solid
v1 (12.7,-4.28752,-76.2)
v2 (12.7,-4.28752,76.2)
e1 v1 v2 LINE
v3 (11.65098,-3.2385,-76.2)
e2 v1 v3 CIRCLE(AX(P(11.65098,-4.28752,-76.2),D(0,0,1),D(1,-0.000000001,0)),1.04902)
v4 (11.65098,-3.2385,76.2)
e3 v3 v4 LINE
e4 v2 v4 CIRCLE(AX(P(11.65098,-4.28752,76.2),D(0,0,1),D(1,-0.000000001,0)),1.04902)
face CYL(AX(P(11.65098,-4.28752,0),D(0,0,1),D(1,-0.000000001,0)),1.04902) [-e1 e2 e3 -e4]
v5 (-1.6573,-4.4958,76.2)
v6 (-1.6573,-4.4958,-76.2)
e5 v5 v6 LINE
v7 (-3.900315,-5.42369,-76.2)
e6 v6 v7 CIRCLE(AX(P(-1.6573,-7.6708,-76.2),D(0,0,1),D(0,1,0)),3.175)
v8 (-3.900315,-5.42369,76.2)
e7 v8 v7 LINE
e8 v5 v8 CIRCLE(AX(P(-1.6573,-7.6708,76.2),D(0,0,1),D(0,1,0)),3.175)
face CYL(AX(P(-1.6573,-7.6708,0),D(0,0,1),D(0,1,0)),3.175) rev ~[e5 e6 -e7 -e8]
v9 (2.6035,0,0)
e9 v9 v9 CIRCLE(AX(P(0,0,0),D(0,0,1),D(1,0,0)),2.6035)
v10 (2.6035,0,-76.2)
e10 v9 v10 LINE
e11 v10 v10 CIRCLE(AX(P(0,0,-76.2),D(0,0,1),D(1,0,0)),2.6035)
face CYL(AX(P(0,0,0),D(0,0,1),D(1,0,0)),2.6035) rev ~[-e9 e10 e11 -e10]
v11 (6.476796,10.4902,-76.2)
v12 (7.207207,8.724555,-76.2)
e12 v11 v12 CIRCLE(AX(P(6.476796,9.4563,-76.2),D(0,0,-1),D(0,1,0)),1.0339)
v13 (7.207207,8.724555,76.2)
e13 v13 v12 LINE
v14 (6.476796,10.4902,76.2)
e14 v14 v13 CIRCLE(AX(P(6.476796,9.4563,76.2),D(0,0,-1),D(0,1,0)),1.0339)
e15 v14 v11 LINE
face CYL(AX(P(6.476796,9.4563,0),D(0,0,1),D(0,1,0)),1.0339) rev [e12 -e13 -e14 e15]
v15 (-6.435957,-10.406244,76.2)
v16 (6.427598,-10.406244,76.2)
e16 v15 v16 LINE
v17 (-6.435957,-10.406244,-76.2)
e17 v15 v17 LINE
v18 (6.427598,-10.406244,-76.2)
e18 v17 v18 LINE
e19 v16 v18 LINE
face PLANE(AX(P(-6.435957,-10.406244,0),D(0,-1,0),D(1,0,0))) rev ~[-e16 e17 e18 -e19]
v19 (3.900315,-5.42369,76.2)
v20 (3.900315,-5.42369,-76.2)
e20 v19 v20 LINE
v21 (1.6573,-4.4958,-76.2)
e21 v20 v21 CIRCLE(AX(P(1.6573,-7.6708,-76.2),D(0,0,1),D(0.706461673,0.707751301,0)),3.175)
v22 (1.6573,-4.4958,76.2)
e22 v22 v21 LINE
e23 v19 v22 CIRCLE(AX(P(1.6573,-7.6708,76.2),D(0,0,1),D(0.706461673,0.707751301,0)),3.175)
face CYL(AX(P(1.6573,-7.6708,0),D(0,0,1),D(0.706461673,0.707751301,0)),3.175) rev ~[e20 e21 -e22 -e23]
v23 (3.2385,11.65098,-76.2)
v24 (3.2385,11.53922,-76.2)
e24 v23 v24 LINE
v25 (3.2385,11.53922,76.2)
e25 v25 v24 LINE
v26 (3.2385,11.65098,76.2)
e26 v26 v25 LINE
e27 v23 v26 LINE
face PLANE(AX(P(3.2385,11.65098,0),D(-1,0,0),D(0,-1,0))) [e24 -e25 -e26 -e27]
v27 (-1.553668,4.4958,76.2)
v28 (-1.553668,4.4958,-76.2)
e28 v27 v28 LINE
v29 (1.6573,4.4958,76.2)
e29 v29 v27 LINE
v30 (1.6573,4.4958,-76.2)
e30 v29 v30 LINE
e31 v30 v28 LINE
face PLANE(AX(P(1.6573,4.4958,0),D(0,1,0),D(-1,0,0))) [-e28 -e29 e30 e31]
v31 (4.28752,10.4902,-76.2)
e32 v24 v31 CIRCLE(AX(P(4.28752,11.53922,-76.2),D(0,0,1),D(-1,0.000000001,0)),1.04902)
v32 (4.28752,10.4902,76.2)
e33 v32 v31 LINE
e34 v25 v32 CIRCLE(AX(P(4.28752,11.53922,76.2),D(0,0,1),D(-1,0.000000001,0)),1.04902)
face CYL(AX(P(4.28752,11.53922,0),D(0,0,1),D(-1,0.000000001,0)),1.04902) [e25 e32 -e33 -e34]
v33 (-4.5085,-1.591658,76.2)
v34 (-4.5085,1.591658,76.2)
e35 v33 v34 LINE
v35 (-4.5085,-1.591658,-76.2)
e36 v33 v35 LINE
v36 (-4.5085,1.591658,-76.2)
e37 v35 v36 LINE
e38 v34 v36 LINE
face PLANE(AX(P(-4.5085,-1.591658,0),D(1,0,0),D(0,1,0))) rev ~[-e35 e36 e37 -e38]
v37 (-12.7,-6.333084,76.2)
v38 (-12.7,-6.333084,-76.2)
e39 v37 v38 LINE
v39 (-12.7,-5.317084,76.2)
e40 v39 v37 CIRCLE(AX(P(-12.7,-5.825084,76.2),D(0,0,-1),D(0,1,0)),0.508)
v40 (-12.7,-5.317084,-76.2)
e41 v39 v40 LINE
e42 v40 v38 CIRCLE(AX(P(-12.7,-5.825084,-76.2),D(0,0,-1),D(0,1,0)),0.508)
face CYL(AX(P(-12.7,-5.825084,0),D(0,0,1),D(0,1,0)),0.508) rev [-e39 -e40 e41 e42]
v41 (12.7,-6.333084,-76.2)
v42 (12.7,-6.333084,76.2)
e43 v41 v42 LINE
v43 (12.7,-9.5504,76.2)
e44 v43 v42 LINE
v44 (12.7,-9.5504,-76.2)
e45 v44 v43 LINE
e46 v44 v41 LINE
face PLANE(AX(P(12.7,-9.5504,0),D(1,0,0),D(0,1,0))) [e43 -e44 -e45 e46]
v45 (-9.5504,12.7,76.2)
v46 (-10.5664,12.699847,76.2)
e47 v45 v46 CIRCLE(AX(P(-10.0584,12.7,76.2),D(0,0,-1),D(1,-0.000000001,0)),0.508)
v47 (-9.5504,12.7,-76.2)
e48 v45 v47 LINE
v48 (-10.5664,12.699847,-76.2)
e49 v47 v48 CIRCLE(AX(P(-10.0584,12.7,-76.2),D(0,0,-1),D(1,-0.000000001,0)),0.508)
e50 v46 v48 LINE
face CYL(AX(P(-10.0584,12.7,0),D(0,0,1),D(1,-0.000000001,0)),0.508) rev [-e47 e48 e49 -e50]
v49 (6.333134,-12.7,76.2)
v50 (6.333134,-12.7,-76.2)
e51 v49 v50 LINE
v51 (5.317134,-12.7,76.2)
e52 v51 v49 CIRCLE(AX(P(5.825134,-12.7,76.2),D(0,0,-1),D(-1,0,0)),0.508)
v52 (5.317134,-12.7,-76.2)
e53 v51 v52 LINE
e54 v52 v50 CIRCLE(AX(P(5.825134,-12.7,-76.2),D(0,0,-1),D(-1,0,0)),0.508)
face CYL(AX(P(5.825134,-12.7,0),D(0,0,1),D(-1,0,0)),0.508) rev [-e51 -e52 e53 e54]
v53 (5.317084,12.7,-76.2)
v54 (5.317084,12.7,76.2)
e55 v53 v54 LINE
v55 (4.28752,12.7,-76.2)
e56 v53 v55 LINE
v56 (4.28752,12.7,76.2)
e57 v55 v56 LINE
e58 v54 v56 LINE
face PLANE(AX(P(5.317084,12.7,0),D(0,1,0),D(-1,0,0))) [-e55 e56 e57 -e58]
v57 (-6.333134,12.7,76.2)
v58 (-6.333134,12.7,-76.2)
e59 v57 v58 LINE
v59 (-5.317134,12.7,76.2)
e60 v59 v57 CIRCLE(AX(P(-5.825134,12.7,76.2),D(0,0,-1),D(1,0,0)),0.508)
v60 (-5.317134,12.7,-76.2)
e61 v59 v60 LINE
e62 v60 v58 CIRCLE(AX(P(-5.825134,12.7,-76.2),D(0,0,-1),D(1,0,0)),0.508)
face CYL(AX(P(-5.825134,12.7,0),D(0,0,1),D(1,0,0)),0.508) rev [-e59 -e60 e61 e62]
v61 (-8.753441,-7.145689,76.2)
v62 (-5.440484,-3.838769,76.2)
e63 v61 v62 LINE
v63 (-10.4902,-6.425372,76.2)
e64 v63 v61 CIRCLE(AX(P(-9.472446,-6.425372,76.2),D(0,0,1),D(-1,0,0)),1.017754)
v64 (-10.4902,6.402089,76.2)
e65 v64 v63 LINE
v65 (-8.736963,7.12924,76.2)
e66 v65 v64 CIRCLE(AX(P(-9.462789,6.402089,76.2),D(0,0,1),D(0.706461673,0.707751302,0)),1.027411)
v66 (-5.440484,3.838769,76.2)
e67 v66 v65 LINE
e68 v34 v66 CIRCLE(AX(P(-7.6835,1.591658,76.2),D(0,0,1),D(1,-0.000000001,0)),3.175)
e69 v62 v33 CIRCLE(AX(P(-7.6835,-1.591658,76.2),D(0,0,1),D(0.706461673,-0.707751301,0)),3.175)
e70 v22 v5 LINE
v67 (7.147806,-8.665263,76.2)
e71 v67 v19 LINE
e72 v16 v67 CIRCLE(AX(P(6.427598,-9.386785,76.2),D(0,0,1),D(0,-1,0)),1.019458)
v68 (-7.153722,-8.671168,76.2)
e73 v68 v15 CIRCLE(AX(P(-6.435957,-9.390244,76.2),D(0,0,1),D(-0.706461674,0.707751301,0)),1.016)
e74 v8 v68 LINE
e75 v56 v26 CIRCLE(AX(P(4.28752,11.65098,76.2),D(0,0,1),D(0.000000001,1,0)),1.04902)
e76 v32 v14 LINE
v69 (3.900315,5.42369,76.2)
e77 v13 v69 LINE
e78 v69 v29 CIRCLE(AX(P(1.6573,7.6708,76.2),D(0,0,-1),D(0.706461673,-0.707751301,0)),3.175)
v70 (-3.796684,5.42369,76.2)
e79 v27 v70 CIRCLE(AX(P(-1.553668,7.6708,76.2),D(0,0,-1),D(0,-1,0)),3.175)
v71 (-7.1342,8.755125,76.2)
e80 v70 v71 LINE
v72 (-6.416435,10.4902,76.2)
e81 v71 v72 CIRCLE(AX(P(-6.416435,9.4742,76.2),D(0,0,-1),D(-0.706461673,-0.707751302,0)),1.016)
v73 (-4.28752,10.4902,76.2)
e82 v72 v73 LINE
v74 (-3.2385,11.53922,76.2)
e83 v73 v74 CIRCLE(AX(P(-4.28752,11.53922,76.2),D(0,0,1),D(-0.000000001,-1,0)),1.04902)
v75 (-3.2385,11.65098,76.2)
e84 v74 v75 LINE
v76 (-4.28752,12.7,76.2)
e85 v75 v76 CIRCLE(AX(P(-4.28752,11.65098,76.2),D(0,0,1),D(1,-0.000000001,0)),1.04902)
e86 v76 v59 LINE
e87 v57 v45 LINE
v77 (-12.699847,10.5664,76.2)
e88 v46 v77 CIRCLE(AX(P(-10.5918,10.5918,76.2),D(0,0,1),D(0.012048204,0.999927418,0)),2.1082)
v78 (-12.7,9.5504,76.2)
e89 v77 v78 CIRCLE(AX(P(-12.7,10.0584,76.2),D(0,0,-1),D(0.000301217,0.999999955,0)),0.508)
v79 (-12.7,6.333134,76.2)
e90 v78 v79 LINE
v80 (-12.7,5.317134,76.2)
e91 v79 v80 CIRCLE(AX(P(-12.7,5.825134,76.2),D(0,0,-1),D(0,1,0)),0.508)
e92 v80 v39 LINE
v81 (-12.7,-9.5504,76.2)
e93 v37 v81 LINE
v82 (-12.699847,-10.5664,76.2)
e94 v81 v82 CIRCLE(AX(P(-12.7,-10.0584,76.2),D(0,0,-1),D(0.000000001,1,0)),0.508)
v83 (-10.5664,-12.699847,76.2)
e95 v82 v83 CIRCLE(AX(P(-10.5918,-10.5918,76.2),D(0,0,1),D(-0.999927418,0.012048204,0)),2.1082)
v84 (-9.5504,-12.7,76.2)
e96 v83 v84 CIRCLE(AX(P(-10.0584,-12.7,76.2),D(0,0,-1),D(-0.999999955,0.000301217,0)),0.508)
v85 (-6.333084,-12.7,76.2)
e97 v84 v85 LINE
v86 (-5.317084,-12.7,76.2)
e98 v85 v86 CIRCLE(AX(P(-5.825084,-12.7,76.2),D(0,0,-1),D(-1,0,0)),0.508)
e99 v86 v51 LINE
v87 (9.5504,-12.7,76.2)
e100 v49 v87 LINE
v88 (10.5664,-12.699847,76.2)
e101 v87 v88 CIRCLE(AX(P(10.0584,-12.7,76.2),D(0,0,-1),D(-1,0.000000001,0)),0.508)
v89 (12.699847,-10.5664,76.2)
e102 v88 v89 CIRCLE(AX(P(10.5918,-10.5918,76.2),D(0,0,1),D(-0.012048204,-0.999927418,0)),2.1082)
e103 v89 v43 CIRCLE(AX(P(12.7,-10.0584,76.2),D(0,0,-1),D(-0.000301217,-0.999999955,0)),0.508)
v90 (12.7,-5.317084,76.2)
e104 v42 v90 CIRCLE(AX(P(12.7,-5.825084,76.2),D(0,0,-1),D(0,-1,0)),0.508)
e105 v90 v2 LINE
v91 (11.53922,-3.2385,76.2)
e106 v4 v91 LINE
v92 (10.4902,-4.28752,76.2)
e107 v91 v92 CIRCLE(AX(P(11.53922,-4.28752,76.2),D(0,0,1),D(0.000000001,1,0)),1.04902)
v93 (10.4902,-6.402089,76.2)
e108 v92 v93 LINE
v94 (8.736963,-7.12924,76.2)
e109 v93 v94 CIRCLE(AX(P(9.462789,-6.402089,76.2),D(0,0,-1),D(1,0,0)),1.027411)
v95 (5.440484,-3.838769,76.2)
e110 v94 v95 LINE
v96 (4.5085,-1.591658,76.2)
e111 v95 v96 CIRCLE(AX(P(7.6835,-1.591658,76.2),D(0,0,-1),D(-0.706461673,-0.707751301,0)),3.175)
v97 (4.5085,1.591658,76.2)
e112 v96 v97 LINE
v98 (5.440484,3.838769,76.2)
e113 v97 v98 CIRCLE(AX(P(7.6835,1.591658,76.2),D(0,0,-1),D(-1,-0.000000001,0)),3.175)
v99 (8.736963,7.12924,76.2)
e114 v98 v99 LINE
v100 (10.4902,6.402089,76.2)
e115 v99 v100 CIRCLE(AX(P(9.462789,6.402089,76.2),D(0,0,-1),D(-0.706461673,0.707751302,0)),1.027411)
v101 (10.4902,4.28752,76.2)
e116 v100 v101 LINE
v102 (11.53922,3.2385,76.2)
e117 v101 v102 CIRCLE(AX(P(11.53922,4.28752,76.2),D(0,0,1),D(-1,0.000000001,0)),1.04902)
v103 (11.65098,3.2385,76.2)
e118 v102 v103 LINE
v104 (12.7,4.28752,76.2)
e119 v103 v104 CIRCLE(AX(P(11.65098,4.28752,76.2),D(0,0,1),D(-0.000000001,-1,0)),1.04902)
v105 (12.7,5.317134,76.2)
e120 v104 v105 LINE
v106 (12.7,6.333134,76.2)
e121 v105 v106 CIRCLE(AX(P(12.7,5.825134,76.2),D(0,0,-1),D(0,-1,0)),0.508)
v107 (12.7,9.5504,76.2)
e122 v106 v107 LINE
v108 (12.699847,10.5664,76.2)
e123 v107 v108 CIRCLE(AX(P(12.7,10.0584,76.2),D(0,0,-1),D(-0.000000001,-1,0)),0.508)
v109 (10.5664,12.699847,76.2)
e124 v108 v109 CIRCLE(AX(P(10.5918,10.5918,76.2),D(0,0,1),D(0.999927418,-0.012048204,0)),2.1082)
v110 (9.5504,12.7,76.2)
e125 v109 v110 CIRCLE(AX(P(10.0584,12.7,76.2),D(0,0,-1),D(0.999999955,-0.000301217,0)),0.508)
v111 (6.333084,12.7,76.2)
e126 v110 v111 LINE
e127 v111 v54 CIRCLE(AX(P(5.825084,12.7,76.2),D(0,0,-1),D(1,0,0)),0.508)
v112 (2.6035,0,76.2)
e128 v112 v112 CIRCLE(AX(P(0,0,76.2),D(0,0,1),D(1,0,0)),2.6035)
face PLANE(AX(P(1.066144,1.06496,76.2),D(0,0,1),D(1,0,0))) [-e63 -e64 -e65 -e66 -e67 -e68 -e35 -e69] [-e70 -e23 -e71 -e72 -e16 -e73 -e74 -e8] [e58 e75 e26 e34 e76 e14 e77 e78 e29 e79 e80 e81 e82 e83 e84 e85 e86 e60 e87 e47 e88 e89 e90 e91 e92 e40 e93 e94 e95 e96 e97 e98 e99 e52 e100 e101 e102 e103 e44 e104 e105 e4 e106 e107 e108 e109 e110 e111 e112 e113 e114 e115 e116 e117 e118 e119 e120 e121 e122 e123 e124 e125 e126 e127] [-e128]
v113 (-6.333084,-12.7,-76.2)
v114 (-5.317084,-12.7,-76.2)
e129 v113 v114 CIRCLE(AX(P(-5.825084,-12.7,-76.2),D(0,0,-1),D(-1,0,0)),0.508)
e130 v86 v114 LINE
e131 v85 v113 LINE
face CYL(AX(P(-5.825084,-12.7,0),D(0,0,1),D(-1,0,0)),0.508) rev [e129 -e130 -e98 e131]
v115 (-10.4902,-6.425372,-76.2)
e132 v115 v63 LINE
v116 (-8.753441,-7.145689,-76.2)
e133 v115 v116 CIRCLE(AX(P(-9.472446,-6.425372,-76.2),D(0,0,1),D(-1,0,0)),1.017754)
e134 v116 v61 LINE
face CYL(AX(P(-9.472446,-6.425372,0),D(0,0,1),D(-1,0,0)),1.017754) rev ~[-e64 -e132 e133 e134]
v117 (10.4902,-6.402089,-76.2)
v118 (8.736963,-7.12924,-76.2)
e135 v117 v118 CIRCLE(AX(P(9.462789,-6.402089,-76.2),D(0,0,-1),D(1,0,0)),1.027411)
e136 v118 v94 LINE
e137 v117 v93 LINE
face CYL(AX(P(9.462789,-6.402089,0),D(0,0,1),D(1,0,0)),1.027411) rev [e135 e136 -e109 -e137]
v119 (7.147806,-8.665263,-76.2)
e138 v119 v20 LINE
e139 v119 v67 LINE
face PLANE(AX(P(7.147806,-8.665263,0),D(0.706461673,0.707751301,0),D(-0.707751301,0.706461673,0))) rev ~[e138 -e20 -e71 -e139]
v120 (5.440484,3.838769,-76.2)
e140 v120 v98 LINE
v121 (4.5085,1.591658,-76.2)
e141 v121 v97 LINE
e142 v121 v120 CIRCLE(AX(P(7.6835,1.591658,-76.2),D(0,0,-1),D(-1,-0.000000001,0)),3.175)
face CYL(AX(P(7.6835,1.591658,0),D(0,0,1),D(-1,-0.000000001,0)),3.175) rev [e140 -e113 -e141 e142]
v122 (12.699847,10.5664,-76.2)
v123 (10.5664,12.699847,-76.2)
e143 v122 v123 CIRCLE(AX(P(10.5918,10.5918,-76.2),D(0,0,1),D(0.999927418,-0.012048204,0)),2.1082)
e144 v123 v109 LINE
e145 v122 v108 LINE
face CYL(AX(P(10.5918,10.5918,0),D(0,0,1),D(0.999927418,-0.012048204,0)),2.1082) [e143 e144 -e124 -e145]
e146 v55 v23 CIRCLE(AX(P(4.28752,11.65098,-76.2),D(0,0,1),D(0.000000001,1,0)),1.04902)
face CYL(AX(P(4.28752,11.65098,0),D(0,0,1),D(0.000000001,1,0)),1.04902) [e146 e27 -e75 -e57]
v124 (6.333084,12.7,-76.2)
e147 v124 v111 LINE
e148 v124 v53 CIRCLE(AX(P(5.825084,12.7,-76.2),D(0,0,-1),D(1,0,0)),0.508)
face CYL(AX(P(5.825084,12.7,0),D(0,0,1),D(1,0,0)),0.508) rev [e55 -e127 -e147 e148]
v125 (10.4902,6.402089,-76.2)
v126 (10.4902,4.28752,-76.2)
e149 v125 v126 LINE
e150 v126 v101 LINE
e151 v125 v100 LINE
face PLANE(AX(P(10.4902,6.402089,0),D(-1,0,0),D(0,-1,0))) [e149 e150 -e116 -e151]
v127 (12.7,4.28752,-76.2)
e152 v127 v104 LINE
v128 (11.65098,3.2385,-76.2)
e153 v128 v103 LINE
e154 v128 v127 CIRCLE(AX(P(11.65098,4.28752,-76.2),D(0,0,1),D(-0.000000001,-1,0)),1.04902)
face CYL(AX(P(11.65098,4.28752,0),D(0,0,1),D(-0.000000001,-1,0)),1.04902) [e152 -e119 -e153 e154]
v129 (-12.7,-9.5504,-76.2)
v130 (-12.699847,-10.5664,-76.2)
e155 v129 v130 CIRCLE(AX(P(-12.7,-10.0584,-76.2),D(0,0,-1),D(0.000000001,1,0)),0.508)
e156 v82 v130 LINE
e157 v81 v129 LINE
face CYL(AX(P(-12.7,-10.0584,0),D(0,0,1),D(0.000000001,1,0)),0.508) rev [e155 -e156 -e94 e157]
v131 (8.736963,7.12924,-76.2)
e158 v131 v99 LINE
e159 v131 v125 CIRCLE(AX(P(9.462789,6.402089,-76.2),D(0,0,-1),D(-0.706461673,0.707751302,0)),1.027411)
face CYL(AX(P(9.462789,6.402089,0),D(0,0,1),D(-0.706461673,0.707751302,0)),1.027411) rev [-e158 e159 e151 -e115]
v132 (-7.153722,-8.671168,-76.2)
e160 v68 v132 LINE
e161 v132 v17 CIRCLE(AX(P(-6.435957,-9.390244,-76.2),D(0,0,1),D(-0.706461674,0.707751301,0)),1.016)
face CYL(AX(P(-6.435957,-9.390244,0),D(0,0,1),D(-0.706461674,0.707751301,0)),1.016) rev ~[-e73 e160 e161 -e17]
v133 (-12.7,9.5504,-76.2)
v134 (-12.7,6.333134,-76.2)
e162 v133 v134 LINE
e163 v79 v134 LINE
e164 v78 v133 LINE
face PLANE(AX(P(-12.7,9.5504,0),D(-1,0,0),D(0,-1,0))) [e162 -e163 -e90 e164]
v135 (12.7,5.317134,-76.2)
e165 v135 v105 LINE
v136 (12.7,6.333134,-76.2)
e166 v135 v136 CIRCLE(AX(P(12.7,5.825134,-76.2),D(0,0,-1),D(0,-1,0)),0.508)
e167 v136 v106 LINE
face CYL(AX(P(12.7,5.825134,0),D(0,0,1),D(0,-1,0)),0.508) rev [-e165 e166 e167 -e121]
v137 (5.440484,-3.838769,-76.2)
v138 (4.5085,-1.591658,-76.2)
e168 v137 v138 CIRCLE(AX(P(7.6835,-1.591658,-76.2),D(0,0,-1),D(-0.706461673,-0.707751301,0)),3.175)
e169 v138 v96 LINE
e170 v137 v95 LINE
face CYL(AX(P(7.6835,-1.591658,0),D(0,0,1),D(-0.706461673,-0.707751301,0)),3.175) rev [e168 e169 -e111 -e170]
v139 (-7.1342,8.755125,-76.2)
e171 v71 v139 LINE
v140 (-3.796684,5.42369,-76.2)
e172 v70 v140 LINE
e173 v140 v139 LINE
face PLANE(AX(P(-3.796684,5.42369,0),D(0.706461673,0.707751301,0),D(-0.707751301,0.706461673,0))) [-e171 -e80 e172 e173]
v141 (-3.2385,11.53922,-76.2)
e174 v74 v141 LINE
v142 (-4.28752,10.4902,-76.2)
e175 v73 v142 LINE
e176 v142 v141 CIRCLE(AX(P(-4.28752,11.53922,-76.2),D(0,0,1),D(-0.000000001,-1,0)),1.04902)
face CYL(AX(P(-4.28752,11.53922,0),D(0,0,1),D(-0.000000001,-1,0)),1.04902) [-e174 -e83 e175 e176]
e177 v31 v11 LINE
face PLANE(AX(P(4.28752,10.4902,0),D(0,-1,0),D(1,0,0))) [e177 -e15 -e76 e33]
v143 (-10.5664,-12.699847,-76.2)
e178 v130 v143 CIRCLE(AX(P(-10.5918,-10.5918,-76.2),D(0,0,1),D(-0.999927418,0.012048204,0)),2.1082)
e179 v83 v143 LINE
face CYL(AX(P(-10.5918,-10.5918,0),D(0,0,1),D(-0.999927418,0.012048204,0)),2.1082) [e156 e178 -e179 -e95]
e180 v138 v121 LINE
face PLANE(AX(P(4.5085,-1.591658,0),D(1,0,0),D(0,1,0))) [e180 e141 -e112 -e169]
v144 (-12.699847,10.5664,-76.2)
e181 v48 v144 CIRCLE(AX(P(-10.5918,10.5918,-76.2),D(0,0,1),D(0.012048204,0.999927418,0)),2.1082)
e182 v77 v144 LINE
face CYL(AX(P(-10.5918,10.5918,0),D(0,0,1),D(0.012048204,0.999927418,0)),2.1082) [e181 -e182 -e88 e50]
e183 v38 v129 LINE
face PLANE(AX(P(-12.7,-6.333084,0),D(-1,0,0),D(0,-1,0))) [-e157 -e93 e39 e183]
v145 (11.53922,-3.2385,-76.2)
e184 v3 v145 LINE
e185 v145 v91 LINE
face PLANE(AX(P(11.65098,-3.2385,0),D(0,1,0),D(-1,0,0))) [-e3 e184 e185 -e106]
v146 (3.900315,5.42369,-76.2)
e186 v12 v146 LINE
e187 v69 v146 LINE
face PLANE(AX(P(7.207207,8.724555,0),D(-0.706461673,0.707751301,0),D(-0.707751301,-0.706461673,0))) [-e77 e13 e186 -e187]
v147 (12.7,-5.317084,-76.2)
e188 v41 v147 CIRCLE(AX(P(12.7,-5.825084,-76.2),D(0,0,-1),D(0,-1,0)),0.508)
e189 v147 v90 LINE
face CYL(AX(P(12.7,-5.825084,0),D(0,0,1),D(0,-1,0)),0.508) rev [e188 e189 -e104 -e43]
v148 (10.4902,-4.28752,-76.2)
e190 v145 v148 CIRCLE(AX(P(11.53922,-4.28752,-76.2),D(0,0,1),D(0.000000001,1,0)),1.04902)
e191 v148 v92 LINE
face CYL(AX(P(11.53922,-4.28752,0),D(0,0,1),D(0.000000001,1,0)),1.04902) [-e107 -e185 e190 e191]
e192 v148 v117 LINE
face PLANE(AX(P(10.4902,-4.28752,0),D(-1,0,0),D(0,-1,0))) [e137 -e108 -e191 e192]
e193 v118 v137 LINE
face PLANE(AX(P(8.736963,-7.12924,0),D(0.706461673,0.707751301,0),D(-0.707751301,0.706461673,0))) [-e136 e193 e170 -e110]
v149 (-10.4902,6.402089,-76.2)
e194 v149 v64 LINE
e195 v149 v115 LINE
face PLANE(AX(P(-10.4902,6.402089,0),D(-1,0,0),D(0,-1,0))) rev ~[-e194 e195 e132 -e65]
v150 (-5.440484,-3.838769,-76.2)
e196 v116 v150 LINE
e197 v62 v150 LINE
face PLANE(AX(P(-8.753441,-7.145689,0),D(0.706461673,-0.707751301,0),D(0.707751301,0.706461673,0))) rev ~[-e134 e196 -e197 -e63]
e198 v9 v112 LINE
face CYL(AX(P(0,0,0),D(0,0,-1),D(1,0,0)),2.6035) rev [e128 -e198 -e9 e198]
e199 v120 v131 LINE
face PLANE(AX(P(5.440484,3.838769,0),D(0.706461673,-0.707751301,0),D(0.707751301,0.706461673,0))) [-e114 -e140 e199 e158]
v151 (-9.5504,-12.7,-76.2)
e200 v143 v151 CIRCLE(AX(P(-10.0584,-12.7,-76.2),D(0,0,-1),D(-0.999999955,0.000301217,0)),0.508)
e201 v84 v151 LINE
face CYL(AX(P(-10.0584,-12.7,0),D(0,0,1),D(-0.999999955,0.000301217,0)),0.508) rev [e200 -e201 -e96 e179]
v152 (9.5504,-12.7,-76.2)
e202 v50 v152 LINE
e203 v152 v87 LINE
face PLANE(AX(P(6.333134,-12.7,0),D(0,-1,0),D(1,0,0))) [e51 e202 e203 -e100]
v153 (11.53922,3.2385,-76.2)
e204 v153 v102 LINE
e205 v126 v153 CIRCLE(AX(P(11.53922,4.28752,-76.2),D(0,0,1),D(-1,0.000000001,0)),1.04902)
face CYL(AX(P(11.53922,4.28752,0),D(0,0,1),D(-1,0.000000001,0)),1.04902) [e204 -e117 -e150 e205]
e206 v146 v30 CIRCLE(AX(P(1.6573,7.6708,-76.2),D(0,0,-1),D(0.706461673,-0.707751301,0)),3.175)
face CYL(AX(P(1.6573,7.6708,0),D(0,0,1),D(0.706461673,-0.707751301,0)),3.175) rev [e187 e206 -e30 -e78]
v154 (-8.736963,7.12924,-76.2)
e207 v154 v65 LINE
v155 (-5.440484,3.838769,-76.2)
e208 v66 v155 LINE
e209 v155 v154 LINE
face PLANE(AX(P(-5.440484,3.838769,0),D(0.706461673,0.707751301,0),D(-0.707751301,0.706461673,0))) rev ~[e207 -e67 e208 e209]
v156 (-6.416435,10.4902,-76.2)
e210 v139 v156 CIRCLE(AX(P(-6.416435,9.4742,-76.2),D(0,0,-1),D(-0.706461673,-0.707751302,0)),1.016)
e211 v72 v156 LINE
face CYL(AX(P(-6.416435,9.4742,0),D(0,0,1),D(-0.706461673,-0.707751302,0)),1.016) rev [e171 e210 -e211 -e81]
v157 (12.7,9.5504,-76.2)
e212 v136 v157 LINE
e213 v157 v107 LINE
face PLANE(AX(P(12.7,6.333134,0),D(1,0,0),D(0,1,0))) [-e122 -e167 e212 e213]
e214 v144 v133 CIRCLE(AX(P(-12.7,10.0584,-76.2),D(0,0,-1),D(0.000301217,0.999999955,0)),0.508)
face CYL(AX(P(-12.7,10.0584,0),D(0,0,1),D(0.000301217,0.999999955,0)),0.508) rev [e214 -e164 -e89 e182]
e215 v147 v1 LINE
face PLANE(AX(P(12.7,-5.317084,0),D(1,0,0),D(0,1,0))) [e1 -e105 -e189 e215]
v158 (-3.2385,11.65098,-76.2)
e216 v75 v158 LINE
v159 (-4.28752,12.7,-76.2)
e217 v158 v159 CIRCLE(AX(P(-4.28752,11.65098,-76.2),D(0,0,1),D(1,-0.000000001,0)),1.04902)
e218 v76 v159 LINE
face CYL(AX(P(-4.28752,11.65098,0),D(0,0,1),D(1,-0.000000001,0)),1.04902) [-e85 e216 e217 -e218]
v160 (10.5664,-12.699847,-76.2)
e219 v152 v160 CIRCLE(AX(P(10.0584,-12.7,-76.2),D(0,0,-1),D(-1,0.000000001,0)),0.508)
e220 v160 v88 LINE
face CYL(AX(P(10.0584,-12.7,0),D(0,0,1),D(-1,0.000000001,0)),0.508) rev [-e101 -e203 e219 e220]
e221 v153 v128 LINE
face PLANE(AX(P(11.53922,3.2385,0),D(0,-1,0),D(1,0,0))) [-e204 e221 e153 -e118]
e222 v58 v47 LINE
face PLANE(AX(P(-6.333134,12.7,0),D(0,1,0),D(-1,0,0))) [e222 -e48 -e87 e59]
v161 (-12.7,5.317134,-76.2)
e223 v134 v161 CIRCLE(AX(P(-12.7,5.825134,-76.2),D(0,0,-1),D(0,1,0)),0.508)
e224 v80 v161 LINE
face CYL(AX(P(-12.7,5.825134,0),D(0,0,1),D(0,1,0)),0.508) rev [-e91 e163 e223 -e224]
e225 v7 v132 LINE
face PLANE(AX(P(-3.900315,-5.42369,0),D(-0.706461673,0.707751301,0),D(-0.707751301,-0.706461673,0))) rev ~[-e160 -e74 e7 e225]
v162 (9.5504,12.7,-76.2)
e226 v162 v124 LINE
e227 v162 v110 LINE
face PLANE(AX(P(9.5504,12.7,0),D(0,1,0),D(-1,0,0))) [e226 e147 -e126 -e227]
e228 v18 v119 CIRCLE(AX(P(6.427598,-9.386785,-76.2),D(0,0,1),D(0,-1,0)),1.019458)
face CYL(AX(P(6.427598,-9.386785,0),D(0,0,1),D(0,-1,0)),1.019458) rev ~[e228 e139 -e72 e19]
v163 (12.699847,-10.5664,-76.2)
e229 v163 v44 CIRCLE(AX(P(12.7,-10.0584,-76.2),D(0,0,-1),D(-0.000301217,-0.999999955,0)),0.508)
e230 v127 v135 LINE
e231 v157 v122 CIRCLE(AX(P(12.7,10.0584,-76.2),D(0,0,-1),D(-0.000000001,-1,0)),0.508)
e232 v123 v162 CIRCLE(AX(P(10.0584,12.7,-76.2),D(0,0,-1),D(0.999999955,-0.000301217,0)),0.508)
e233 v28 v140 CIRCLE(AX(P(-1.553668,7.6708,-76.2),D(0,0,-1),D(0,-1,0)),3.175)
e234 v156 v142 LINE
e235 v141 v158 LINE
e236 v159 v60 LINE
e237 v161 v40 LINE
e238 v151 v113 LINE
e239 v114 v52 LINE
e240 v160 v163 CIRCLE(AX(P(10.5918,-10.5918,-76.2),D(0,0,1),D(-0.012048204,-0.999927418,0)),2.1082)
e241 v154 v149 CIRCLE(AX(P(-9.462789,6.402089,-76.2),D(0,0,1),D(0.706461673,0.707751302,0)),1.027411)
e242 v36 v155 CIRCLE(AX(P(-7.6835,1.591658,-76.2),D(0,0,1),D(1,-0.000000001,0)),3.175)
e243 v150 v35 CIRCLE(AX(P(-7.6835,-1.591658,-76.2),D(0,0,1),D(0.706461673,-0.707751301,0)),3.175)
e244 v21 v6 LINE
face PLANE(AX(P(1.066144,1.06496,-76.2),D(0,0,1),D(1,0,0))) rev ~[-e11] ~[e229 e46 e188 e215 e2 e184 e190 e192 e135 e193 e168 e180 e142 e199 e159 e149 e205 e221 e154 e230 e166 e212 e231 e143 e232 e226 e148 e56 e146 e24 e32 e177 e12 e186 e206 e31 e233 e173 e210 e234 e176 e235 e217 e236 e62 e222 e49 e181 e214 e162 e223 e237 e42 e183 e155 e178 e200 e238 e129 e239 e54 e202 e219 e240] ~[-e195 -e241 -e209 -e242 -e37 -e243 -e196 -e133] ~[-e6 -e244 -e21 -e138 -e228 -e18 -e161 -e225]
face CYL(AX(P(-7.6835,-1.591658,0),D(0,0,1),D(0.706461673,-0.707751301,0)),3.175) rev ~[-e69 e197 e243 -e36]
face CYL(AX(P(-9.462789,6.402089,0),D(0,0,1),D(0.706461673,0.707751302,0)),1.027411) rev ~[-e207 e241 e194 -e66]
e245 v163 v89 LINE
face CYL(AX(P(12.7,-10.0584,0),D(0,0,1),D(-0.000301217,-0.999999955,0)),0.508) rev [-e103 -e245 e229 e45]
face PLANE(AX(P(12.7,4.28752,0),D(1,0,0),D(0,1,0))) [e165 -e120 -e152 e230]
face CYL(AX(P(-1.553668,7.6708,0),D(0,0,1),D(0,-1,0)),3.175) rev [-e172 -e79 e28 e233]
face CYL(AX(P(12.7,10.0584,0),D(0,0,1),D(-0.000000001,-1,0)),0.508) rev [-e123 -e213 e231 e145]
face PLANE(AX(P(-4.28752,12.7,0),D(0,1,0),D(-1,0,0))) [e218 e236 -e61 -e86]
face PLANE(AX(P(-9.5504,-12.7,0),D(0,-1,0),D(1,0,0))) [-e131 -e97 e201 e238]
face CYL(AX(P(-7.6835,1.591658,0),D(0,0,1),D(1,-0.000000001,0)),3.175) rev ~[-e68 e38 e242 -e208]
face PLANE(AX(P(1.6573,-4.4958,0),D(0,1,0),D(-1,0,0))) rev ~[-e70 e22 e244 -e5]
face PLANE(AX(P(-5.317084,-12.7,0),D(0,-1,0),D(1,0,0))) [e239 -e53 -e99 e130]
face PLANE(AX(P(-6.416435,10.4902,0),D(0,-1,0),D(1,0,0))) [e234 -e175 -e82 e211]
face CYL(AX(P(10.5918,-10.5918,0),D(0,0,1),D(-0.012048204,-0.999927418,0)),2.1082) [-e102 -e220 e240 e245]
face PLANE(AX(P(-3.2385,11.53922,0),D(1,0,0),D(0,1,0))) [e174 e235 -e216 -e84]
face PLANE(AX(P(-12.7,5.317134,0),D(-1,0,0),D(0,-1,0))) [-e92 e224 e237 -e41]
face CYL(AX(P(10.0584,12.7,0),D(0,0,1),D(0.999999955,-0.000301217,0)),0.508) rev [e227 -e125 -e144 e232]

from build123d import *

# Parameters (mm, degrees)
SKETCH3_R                = 2.6035
BOSS_EXTRUDE1_DEPTH      = 76.2
BOSS_EXTRUDE1_DEPTH_BACK = 76.2


with BuildPart() as part:
    # Sketch3 → Boss-Extrude1 (new body, two sides)
    with BuildSketch(Plane.XY) as boss_extrude1_sk:
        with BuildLine():
            Line((6.3331344, -12.7), (9.5504, -12.7))
            ThreePointArc((9.5504, -12.7), (10.058323491, -12.192000006), (10.566399977, -12.699846982))
            ThreePointArc((10.566399977, -12.699846982), (12.082522516, -12.082522516), (12.699846982, -10.566399977))
            ThreePointArc((12.699846982, -10.566399977), (12.192000006, -10.058323491), (12.7, -9.5504))
            Line((12.7, -9.5504), (12.7, -6.3330836))
            ThreePointArc((12.7, -6.3330836), (12.192, -5.8250836), (12.7, -5.3170836))
            Line((12.7, -5.3170836), (12.7, -4.28752))
            ThreePointArc((12.7, -4.28752), (12.392749156, -3.545750844), (11.65098, -3.2385))
            Line((11.65098, -3.2385), (11.53922, -3.2385))
            ThreePointArc((11.53922, -3.2385), (10.797450844, -3.545750844), (10.4902, -4.28752))
            Line((10.4902, -4.28752), (10.4902, -6.402089023))
            ThreePointArc((10.4902, -6.402089023), (9.856394933, -7.351113629), (8.736962546, -7.129240479))
            Line((8.736962546, -7.129240479), (5.440484187, -3.838768792))
            ThreePointArc((5.440484187, -3.838768792), (4.75073678, -2.808015636), (4.5085, -1.591658411))
            Line((4.5085, -1.591658411), (4.5085, 1.591658411))
            ThreePointArc((4.5085, 1.591658411), (4.75073678, 2.808015636), (5.440484187, 3.838768792))
            Line((5.440484187, 3.838768792), (8.736962546, 7.129240479))
            ThreePointArc((8.736962546, 7.129240479), (9.856394933, 7.351113629), (10.4902, 6.402089023))
            Line((10.4902, 6.402089023), (10.4902, 4.28752))
            ThreePointArc((10.4902, 4.28752), (10.797450844, 3.545750844), (11.53922, 3.2385))
            Line((11.53922, 3.2385), (11.65098, 3.2385))
            ThreePointArc((11.65098, 3.2385), (12.392749156, 3.545750844), (12.7, 4.28752))
            Line((12.7, 4.28752), (12.7, 5.3171344))
            ThreePointArc((12.7, 5.3171344), (12.192, 5.8251344), (12.7, 6.3331344))
            Line((12.7, 6.3331344), (12.7, 9.5504))
            ThreePointArc((12.7, 9.5504), (12.192000006, 10.058323491), (12.699846982, 10.566399977))
            ThreePointArc((12.699846982, 10.566399977), (12.082522516, 12.082522516), (10.566399977, 12.699846982))
            ThreePointArc((10.566399977, 12.699846982), (10.058323491, 12.192000006), (9.5504, 12.7))
            Line((9.5504, 12.7), (6.3330836, 12.7))
            ThreePointArc((6.3330836, 12.7), (5.8250836, 12.192), (5.3170836, 12.7))
            Line((5.3170836, 12.7), (4.28752, 12.7))
            ThreePointArc((4.28752, 12.7), (3.545750844, 12.392749156), (3.2385, 11.65098))
            Line((3.2385, 11.65098), (3.2385, 11.53922))
            ThreePointArc((3.2385, 11.53922), (3.545750844, 10.797450844), (4.28752, 10.4902))
            Line((4.28752, 10.4902), (6.476795923, 10.4902))
            ThreePointArc((6.476795923, 10.4902), (7.432175542, 9.851520654), (7.207206853, 8.724555432))
            Line((7.207206853, 8.724555432), (3.900315394, 5.423689619))
            ThreePointArc((3.900315394, 5.423689619), (2.8709819, 4.736928798), (1.657299581, 4.4958))
            Line((1.657299581, 4.4958), (-1.553667902, 4.4958))
            ThreePointArc((-1.553667902, 4.4958), (-2.767350221, 4.736928798), (-3.796683715, 5.423689619))
            Line((-3.796683715, 5.423689619), (-7.134200223, 8.755124678))
            ThreePointArc((-7.134200223, 8.755124678), (-7.355273948, 9.862578342), (-6.416435163, 10.4902))
            Line((-6.416435163, 10.4902), (-4.28752, 10.4902))
            ThreePointArc((-4.28752, 10.4902), (-3.545750844, 10.797450844), (-3.2385, 11.53922))
            Line((-3.2385, 11.53922), (-3.2385, 11.65098))
            ThreePointArc((-3.2385, 11.65098), (-3.545750844, 12.392749156), (-4.28752, 12.7))
            Line((-4.28752, 12.7), (-5.3171344, 12.7))
            ThreePointArc((-5.3171344, 12.7), (-5.8251344, 12.192), (-6.3331344, 12.7))
            Line((-6.3331344, 12.7), (-9.5504, 12.7))
            ThreePointArc((-9.5504, 12.7), (-10.058323491, 12.192000006), (-10.566399977, 12.699846982))
            ThreePointArc((-10.566399977, 12.699846982), (-12.082522516, 12.082522516), (-12.699846982, 10.566399977))
            ThreePointArc((-12.699846982, 10.566399977), (-12.192000006, 10.058323491), (-12.7, 9.5504))
            Line((-12.7, 9.5504), (-12.7, 6.3331344))
            ThreePointArc((-12.7, 6.3331344), (-12.192, 5.8251344), (-12.7, 5.3171344))
            Line((-12.7, 5.3171344), (-12.7, -5.3170836))
            ThreePointArc((-12.7, -5.3170836), (-12.192, -5.8250836), (-12.7, -6.3330836))
            Line((-12.7, -6.3330836), (-12.7, -9.5504))
            ThreePointArc((-12.7, -9.5504), (-12.192000006, -10.058323491), (-12.699846982, -10.566399977))
            ThreePointArc((-12.699846982, -10.566399977), (-12.082522516, -12.082522516), (-10.566399977, -12.699846982))
            ThreePointArc((-10.566399977, -12.699846982), (-10.058323491, -12.192000006), (-9.5504, -12.7))
            Line((-9.5504, -12.7), (-6.3330836, -12.7))
            ThreePointArc((-6.3330836, -12.7), (-5.8250836, -12.192), (-5.3170836, -12.7))
            Line((-5.3170836, -12.7), (5.3171344, -12.7))
            ThreePointArc((5.3171344, -12.7), (5.8251344, -12.192), (6.3331344, -12.7))
        make_face()
        Circle(SKETCH3_R, mode=Mode.SUBTRACT)
        with BuildLine():
            Line((-8.753441447, -7.145689354), (-5.440484187, -3.838768792))
            ThreePointArc((-5.440484187, -3.838768792), (-4.75073678, -2.808015636), (-4.5085, -1.591658411))
            Line((-4.5085, -1.591658411), (-4.5085, 1.591658411))
            ThreePointArc((-4.5085, 1.591658411), (-4.75073678, 2.808015636), (-5.440484187, 3.838768792))
            Line((-5.440484187, 3.838768792), (-8.736962546, 7.129240479))
            ThreePointArc((-8.736962546, 7.129240479), (-9.856394933, 7.351113629), (-10.4902, 6.402089023))
            Line((-10.4902, 6.402089023), (-10.4902, -6.425372487))
            ThreePointArc((-10.4902, -6.425372487), (-9.862352148, -7.36547709), (-8.753441447, -7.145689354))
        make_face(mode=Mode.SUBTRACT)
        with BuildLine():
            Line((7.147805753, -8.66526257), (3.900315394, -5.423689619))
            ThreePointArc((3.900315394, -5.423689619), (2.8709819, -4.736928798), (1.657299581, -4.4958))
            Line((1.657299581, -4.4958), (-1.657299581, -4.4958))
            ThreePointArc((-1.657299581, -4.4958), (-2.8709819, -4.736928798), (-3.900315394, -5.423689619))
            Line((-3.900315394, -5.423689619), (-7.153722341, -8.671168377))
            ThreePointArc((-7.153722341, -8.671168377), (-7.374796065, -9.77862204), (-6.435957281, -10.406243698))
            Line((-6.435957281, -10.406243698), (6.427597582, -10.406243698))
            ThreePointArc((6.427597582, -10.406243698), (7.369631963, -9.776485757), (7.147805753, -8.66526257))
        make_face(mode=Mode.SUBTRACT)
    extrude(amount=BOSS_EXTRUDE1_DEPTH)
    extrude(boss_extrude1_sk.sketch, amount=-BOSS_EXTRUDE1_DEPTH_BACK)


solid = part.part
